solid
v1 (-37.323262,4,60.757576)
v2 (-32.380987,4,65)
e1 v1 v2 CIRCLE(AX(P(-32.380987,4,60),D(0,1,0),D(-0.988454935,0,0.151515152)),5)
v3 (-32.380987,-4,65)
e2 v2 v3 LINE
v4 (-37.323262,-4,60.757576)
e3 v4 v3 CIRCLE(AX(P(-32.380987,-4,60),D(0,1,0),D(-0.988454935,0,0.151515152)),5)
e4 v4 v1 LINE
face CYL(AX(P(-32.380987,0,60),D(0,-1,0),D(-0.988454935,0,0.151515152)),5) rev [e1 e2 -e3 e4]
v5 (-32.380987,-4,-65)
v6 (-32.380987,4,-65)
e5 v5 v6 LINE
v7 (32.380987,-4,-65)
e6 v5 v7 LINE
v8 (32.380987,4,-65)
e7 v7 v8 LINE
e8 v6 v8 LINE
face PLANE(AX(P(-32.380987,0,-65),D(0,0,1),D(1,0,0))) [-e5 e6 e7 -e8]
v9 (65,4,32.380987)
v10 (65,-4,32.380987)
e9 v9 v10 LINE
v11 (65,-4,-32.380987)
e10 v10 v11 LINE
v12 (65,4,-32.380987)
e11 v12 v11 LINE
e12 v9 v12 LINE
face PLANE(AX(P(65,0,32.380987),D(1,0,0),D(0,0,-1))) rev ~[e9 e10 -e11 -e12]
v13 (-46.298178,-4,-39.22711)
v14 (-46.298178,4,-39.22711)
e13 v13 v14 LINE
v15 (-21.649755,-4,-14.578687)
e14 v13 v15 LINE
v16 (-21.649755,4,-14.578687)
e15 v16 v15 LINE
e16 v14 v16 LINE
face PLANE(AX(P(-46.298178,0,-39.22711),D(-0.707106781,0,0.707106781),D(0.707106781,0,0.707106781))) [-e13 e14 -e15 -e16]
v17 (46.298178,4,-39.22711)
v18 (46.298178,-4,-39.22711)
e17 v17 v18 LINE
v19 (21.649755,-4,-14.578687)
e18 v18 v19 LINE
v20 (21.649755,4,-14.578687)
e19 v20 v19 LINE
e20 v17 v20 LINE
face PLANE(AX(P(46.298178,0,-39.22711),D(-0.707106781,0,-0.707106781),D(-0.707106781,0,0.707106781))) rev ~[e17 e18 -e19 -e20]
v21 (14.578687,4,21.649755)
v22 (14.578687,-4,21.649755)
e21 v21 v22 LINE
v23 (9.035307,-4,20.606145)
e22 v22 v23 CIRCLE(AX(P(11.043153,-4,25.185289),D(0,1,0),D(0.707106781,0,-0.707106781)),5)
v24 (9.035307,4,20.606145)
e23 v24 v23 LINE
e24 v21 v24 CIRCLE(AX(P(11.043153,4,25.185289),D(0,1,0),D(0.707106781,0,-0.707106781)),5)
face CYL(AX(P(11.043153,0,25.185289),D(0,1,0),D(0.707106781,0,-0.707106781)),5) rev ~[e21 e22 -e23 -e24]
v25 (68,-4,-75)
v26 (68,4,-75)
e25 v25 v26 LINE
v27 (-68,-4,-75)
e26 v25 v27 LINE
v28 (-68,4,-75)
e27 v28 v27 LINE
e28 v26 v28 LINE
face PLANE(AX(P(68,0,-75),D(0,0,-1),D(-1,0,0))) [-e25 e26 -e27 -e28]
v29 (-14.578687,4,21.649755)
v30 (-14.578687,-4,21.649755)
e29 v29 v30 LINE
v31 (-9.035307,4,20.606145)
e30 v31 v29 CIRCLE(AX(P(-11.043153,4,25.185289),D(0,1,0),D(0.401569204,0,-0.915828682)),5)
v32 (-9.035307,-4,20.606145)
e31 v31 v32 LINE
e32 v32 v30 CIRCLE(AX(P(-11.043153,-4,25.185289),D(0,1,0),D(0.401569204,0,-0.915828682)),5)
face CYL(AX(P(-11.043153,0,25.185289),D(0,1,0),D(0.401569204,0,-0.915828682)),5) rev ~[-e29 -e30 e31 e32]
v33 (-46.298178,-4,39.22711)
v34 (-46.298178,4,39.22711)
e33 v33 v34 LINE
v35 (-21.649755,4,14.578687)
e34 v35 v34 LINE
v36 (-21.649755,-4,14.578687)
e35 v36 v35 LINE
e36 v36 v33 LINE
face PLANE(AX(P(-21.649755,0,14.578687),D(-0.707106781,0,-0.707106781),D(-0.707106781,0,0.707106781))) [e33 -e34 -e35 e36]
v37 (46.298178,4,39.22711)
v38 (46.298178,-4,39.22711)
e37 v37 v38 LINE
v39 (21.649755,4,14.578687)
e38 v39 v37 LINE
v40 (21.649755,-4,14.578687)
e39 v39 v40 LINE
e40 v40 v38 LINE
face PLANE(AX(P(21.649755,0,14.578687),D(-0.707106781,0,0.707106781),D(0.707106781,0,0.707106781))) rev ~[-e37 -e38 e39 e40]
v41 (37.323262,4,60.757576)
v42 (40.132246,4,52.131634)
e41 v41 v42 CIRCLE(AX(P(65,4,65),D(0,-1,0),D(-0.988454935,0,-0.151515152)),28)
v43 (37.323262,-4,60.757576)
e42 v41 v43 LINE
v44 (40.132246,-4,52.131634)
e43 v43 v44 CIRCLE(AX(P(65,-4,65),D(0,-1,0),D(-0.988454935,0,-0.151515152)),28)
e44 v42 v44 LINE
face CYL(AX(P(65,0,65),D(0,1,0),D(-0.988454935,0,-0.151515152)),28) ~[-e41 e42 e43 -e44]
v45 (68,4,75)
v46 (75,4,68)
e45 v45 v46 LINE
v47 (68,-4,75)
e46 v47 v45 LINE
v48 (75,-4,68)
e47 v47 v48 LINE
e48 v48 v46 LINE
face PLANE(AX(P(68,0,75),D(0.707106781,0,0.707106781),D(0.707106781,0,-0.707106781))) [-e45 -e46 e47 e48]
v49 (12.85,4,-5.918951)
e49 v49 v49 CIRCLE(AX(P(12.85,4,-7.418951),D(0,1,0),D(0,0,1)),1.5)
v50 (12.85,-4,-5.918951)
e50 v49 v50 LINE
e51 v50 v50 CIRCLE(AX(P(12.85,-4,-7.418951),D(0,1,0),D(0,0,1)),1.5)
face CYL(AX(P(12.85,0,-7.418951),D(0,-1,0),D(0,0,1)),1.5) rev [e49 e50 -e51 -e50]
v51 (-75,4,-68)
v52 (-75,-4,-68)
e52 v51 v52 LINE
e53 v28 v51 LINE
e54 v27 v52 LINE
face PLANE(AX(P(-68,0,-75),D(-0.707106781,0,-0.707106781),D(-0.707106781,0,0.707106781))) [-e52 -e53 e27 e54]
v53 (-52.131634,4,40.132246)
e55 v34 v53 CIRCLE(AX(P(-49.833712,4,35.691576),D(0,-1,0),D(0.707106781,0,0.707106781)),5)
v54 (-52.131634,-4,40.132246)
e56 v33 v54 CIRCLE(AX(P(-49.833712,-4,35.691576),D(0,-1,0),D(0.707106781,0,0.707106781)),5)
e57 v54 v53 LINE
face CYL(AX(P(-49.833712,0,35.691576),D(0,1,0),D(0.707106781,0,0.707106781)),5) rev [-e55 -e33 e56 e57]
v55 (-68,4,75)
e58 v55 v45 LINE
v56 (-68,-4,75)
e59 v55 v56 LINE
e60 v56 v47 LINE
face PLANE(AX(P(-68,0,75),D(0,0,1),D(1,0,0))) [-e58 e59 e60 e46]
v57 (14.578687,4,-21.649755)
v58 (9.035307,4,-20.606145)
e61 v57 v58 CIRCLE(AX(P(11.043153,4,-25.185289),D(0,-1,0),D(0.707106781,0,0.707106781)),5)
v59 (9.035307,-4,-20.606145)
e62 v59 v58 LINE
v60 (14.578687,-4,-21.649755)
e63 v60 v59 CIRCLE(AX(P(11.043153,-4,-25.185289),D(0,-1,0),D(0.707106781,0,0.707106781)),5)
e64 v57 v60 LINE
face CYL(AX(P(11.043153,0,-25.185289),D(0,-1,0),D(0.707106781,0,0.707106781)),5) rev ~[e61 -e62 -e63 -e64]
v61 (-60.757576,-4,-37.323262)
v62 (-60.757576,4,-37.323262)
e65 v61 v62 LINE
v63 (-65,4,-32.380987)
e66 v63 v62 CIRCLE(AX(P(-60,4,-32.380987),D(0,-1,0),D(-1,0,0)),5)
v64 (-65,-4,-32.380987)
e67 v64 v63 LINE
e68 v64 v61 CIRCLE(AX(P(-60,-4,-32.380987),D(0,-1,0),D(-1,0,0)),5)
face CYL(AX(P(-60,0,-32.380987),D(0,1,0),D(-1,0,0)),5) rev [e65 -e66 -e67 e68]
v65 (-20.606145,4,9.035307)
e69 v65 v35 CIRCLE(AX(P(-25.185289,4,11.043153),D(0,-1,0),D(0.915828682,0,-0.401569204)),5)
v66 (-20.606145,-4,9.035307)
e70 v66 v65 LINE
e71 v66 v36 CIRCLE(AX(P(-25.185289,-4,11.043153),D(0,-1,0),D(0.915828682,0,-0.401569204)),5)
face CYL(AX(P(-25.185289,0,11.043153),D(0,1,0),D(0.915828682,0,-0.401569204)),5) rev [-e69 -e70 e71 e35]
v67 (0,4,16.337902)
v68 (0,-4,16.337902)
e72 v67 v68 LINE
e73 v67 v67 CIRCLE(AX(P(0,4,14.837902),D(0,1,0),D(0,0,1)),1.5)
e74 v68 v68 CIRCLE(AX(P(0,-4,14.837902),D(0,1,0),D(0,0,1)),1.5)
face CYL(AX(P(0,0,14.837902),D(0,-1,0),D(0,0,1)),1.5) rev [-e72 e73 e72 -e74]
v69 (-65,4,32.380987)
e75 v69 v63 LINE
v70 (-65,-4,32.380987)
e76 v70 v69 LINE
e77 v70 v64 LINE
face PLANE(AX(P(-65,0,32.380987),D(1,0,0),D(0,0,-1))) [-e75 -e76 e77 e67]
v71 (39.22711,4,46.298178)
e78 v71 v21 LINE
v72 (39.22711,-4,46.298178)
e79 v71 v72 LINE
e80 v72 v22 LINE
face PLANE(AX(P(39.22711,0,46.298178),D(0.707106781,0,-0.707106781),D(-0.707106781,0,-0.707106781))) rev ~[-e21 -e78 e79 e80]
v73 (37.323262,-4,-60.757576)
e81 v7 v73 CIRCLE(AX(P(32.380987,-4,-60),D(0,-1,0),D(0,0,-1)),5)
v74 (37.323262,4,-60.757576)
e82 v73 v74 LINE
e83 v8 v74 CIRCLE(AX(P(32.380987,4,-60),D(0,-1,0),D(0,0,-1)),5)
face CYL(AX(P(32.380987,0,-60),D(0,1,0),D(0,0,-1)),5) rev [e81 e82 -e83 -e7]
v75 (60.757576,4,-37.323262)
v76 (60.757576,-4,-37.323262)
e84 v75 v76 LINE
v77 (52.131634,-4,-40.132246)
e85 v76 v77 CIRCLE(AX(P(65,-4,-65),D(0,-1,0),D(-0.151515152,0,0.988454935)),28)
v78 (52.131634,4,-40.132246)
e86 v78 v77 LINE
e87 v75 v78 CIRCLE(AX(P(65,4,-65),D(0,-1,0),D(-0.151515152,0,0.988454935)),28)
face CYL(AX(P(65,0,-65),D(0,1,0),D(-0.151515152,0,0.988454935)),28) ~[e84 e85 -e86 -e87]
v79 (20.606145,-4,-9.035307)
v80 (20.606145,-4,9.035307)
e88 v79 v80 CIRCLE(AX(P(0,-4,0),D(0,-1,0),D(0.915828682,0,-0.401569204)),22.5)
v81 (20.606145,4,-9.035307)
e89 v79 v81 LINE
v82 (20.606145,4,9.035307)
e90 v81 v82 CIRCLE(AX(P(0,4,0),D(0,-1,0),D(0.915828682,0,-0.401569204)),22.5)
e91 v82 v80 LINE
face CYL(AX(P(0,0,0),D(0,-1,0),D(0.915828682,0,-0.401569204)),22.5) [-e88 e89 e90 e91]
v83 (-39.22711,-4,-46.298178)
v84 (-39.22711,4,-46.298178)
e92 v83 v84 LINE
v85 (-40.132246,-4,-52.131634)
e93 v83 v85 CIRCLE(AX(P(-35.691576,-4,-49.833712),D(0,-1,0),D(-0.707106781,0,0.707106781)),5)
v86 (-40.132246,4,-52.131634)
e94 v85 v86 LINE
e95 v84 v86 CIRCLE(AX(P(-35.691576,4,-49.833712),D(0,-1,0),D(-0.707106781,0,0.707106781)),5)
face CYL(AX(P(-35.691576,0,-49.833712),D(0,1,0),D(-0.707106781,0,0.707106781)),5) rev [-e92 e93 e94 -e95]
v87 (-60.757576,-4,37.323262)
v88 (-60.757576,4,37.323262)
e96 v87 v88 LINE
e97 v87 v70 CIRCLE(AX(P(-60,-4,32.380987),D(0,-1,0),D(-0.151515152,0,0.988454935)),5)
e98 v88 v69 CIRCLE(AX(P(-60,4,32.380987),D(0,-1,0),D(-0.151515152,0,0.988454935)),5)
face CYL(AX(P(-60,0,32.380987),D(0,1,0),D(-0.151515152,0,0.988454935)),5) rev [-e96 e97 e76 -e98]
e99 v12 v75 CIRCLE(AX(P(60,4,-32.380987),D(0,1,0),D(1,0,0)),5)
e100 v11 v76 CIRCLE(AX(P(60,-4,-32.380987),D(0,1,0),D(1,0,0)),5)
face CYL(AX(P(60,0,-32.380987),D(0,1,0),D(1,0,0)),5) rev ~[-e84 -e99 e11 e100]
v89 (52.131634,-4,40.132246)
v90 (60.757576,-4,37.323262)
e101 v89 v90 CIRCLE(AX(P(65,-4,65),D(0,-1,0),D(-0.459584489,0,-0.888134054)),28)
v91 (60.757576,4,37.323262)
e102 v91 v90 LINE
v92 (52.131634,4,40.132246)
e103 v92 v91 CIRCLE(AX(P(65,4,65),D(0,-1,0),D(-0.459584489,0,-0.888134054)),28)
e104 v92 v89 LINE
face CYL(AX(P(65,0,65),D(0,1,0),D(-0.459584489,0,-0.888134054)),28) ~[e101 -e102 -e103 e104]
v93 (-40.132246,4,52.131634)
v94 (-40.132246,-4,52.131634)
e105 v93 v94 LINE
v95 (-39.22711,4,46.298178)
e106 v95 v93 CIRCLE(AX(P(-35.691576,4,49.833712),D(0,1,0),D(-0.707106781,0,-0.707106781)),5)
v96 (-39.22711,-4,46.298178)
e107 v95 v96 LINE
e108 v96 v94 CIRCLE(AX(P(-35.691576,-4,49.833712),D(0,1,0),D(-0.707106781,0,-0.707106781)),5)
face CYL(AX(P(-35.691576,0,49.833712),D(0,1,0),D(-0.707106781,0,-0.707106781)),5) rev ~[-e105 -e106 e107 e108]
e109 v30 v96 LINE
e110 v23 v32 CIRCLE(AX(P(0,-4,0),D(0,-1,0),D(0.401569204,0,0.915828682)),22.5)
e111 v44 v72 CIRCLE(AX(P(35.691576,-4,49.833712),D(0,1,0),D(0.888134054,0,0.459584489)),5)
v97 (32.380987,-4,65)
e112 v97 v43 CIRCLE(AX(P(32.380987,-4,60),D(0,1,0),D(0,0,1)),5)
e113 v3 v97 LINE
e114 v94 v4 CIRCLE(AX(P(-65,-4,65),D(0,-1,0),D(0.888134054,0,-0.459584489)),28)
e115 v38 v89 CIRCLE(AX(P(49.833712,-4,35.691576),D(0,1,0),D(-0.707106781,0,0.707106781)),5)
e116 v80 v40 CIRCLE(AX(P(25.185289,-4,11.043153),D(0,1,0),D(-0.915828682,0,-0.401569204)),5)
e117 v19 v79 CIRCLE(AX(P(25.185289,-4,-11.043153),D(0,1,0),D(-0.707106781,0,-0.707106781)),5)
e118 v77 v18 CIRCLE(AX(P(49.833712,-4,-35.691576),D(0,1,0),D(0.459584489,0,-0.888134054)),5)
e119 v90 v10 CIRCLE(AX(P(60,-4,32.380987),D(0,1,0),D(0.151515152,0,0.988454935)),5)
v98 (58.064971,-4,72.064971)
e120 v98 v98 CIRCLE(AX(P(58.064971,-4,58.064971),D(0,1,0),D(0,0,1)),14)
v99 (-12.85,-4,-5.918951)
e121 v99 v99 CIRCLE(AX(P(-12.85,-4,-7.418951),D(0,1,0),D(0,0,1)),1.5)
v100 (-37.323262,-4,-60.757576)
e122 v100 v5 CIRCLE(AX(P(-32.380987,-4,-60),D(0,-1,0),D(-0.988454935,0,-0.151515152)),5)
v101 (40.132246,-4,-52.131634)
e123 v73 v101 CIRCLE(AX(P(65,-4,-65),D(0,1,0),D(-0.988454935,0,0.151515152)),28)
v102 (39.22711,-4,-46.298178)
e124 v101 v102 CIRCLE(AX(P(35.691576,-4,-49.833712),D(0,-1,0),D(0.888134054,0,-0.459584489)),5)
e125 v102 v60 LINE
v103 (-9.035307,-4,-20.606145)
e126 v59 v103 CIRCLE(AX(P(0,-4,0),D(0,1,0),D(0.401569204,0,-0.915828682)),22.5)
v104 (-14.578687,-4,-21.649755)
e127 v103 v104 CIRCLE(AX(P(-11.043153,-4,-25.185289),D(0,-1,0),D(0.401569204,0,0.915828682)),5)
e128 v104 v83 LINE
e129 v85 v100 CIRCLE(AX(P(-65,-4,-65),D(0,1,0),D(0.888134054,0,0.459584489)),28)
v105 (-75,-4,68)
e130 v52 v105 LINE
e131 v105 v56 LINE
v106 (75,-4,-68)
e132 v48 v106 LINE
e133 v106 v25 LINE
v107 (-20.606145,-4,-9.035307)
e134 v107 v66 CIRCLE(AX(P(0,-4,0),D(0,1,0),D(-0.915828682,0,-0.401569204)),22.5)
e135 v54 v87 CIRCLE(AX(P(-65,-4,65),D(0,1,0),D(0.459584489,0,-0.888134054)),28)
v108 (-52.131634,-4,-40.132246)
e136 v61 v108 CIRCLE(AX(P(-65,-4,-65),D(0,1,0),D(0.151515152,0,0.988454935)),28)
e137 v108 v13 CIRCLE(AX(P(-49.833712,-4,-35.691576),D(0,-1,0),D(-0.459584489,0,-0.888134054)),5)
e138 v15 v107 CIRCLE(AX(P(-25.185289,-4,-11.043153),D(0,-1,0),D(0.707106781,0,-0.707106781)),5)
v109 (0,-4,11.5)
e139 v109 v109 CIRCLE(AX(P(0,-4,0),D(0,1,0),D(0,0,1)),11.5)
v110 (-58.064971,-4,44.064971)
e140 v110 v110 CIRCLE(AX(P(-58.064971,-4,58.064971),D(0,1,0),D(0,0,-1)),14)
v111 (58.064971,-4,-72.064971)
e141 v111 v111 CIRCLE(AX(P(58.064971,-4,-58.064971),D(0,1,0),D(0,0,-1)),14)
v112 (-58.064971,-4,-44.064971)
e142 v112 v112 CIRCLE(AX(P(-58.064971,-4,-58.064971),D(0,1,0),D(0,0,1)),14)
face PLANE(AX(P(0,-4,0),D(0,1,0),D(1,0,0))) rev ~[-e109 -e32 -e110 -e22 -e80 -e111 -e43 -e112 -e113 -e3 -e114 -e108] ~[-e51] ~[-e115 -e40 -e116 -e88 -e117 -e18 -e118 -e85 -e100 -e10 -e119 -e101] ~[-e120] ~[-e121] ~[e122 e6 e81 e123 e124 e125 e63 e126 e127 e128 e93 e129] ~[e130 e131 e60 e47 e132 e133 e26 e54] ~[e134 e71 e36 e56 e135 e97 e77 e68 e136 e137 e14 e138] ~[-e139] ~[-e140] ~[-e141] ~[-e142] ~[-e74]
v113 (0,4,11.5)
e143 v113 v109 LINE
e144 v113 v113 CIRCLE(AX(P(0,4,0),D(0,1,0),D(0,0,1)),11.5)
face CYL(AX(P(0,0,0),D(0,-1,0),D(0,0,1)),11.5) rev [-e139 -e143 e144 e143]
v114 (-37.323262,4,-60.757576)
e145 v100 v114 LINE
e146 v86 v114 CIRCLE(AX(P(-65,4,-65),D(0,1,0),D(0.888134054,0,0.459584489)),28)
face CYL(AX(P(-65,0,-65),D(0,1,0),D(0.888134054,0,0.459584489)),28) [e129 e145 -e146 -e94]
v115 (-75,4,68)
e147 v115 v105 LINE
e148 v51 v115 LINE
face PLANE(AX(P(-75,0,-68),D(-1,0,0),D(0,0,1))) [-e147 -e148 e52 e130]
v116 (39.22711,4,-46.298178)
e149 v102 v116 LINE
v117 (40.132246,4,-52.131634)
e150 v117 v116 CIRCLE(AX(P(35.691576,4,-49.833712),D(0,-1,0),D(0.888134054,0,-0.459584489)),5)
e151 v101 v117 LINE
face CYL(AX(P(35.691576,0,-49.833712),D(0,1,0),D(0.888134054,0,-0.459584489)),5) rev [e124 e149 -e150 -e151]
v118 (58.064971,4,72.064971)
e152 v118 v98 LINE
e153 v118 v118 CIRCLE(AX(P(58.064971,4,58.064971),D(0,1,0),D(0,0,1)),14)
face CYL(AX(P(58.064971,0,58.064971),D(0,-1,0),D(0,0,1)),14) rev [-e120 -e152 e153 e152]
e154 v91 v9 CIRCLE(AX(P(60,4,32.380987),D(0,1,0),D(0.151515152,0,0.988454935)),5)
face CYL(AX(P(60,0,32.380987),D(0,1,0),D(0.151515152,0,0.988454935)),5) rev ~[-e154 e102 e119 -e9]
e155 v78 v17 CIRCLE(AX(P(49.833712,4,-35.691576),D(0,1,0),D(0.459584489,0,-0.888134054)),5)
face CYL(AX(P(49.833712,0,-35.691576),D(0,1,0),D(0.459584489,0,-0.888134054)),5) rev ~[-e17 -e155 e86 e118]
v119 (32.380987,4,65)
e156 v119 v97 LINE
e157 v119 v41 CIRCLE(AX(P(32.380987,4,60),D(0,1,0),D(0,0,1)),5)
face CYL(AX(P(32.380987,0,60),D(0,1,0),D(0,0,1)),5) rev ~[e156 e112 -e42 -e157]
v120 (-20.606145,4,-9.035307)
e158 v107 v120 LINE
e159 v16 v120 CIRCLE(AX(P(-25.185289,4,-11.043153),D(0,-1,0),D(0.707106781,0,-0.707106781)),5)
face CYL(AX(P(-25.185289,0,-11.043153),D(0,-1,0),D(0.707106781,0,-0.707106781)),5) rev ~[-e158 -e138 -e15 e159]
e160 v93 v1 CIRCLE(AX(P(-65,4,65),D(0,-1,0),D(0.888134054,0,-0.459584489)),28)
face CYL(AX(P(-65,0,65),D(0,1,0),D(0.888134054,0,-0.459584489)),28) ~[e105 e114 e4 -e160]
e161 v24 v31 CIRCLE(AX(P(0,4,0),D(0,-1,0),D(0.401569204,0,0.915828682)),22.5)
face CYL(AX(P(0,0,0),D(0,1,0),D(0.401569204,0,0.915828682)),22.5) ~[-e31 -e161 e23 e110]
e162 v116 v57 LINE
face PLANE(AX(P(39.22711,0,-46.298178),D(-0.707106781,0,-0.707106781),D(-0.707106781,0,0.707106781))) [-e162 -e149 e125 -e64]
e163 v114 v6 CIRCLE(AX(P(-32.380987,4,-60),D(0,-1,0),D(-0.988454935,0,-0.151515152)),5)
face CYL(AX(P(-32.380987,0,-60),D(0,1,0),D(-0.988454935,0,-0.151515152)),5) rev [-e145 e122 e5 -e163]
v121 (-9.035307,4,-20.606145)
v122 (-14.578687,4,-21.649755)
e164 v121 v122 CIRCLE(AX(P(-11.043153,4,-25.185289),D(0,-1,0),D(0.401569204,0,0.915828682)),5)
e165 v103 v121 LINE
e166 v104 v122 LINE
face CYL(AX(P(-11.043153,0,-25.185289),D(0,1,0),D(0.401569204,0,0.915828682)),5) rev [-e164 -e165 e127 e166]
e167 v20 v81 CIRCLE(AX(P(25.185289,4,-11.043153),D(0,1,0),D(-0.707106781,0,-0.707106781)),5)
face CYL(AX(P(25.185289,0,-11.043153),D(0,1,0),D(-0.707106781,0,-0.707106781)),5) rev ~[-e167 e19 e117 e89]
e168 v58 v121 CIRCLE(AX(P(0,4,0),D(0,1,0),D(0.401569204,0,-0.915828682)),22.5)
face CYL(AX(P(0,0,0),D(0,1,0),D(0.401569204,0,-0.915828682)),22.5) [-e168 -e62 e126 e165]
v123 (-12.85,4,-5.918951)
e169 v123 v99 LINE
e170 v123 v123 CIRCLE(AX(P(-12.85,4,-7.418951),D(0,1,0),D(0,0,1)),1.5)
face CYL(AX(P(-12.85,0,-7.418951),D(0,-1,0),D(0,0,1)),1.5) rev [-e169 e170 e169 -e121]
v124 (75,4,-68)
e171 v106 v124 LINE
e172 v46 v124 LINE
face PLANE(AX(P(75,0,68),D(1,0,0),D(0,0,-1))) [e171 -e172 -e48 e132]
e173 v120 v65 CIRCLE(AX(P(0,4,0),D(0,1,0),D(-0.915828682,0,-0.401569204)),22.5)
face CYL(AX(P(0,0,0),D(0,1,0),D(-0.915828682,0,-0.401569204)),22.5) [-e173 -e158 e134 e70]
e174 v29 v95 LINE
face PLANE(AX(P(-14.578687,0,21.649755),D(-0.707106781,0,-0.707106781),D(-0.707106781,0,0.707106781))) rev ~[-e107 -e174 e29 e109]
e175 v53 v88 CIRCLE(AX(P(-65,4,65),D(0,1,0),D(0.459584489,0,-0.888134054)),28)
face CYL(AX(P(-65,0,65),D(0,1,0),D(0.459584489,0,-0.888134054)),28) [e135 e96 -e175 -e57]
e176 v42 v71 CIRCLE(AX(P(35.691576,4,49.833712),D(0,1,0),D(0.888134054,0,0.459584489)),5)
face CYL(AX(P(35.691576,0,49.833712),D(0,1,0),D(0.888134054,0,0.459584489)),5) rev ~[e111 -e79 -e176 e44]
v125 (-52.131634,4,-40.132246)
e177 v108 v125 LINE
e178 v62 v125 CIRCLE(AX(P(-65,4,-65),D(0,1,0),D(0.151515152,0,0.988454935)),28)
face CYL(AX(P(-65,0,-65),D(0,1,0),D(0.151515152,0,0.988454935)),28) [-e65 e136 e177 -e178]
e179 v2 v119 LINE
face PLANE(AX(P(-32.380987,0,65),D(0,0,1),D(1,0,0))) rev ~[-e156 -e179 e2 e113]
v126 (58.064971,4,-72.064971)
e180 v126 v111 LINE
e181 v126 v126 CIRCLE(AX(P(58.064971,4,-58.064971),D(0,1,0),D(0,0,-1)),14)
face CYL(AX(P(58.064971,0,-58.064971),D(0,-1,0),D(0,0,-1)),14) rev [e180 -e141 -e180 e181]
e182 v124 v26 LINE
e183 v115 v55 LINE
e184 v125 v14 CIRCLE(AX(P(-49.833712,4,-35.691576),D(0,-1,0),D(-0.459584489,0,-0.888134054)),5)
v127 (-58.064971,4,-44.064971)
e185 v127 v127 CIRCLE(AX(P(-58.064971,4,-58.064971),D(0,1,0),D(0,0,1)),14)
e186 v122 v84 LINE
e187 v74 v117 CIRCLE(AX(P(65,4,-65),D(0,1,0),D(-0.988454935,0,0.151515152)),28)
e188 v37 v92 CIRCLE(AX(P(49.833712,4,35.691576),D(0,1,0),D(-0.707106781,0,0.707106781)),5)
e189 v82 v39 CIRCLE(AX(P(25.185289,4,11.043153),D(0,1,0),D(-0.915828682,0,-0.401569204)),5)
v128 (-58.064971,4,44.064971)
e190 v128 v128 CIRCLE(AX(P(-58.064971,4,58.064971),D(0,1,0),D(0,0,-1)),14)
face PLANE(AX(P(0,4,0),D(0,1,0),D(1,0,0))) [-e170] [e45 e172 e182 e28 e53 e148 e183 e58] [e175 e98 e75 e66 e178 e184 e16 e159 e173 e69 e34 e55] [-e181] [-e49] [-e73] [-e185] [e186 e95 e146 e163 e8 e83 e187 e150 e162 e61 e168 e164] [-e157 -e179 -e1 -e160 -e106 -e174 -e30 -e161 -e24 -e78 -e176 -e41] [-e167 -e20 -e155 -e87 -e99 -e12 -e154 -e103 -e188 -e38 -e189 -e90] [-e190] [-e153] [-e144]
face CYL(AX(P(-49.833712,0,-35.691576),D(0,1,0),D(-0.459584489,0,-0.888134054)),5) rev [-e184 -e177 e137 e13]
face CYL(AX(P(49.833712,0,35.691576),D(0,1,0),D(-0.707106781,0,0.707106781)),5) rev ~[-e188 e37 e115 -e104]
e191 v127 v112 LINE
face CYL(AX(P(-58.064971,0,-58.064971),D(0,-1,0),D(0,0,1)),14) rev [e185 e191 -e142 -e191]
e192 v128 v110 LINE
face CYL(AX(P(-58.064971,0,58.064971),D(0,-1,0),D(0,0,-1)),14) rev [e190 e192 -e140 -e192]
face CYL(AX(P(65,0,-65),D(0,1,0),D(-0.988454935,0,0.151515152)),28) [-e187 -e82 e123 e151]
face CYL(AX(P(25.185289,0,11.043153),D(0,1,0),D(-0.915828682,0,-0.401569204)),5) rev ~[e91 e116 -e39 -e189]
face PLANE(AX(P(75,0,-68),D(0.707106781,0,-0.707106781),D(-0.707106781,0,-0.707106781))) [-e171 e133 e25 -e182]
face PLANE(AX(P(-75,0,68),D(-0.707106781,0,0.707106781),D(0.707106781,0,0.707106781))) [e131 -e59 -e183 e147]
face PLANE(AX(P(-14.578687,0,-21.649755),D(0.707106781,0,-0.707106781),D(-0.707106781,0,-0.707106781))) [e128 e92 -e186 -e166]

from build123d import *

# Parameters (mm, degrees)
SKETCH1_R           = 11.5
SKETCH1_R_2         = 14
SKETCH1_R_3         = 1.5
BOSS_EXTRUDE1_DEPTH = 4


with BuildPart() as part:
    # Sketch1 → Boss-Extrude1 (new, symmetric)
    with BuildSketch(Plane(origin=(0, 0, 0), x_dir=(1, 0, 0), z_dir=(0, 1, 0))):
        Polygon((-68, -75), (68, -75), (75, -68), (75, 68), (68, 75), (-68, 75), (-75, 68), (-75, -68), align=None)
        with Locations(Location((0, 0, 0), (0, 0, 270))):
            Circle(SKETCH1_R, mode=Mode.SUBTRACT)
        with Locations(Location((-58.064971157, 58.064971157, 0), (0, 0, 270))):
            Circle(SKETCH1_R_2, mode=Mode.SUBTRACT)
        with Locations(Location((58.064971157, 58.064971157, 0), (0, 0, 90))):
            Circle(SKETCH1_R_2, mode=Mode.SUBTRACT)
        with Locations(Location((58.064971157, -58.064971157, 0), (0, 0, 270))):
            Circle(SKETCH1_R_2, mode=Mode.SUBTRACT)
        with Locations(Location((-58.064971157, -58.064971157, 0), (0, 0, 90))):
            Circle(SKETCH1_R_2, mode=Mode.SUBTRACT)
        with Locations(Location((-12.85, 7.418950959, 0), (0, 0, 270))):
            Circle(SKETCH1_R_3, mode=Mode.SUBTRACT)
        with Locations(Location((12.85, 7.418950959, 0), (0, 0, 270))):
            Circle(SKETCH1_R_3, mode=Mode.SUBTRACT)
        with Locations(Location((0, -14.837901918, 0), (0, 0, 270))):
            Circle(SKETCH1_R_3, mode=Mode.SUBTRACT)
        with BuildLine():
            Line((-65, -32.380987139), (-65, 32.380987139))
            ThreePointArc((-65, 32.380987139), (-63.793934553, 35.637681876), (-60.757575758, 37.323261815))
            ThreePointArc((-60.757575758, 37.323261815), (-56.330087552, 38.376089353), (-52.1316343, 40.132246498))
            ThreePointArc((-52.1316343, 40.132246498), (-49.06707081, 40.632452823), (-46.298177948, 39.227110136))
            Line((-46.298177948, 39.227110136), (-21.649754839, 14.578687027))
            ThreePointArc((-21.649754839, 14.578687027), (-20.271607616, 11.968214073), (-20.606145336, 9.035307099))
            ThreePointArc((-20.606145336, 9.035307099), (-22.5, 0), (-20.606145336, -9.035307099))
            ThreePointArc((-20.606145336, -9.035307099), (-20.271607616, -11.968214073), (-21.649754839, -14.578687027))
            Line((-21.649754839, -14.578687027), (-46.298177948, -39.227110136))
            ThreePointArc((-46.298177948, -39.227110136), (-49.06707081, -40.632452823), (-52.1316343, -40.132246498))
            ThreePointArc((-52.1316343, -40.132246498), (-56.330087552, -38.376089353), (-60.757575758, -37.323261815))
            ThreePointArc((-60.757575758, -37.323261815), (-63.793934553, -35.637681876), (-65, -32.380987139))
        make_face(mode=Mode.SUBTRACT)
        with BuildLine():
            Line((-32.380987139, 65), (32.380987139, 65))
            ThreePointArc((32.380987139, 65), (35.637681876, 63.793934553), (37.323261815, 60.757575758))
            ThreePointArc((37.323261815, 60.757575758), (38.376089353, 56.330087552), (40.132246498, 52.1316343))
            ThreePointArc((40.132246498, 52.1316343), (40.632452823, 49.06707081), (39.227110136, 46.298177948))
            Line((39.227110136, 46.298177948), (14.578687027, 21.649754839))
            ThreePointArc((14.578687027, 21.649754839), (11.968214073, 20.271607616), (9.035307099, 20.606145336))
            ThreePointArc((9.035307099, 20.606145336), (0, 22.5), (-9.035307099, 20.606145336))
            ThreePointArc((-9.035307099, 20.606145336), (-11.968214073, 20.271607616), (-14.578687027, 21.649754839))
            Line((-14.578687027, 21.649754839), (-39.227110136, 46.298177948))
            ThreePointArc((-39.227110136, 46.298177948), (-40.632452823, 49.06707081), (-40.132246498, 52.1316343))
            ThreePointArc((-40.132246498, 52.1316343), (-38.376089353, 56.330087552), (-37.323261815, 60.757575758))
            ThreePointArc((-37.323261815, 60.757575758), (-35.637681876, 63.793934553), (-32.380987139, 65))
        make_face(mode=Mode.SUBTRACT)
        with BuildLine():
            Line((65, -32.380987139), (65, 32.380987139))
            ThreePointArc((65, 32.380987139), (63.793934553, 35.637681876), (60.757575758, 37.323261815))
            ThreePointArc((60.757575758, 37.323261815), (56.330087552, 38.376089353), (52.1316343, 40.132246498))
            ThreePointArc((52.1316343, 40.132246498), (49.06707081, 40.632452823), (46.298177948, 39.227110136))
            Line((46.298177948, 39.227110136), (21.649754839, 14.578687027))
            ThreePointArc((21.649754839, 14.578687027), (20.271607616, 11.968214073), (20.606145336, 9.035307099))
            ThreePointArc((20.606145336, 9.035307099), (22.5, 0), (20.606145336, -9.035307099))
            ThreePointArc((20.606145336, -9.035307099), (20.271607616, -11.968214073), (21.649754839, -14.578687027))
            Line((21.649754839, -14.578687027), (46.298177948, -39.227110136))
            ThreePointArc((46.298177948, -39.227110136), (49.06707081, -40.632452823), (52.1316343, -40.132246498))
            ThreePointArc((52.1316343, -40.132246498), (56.330087552, -38.376089353), (60.757575758, -37.323261815))
            ThreePointArc((60.757575758, -37.323261815), (63.793934553, -35.637681876), (65, -32.380987139))
        make_face(mode=Mode.SUBTRACT)
        with BuildLine():
            Line((-32.380987139, -65), (32.380987139, -65))
            ThreePointArc((32.380987139, -65), (35.637681876, -63.793934553), (37.323261815, -60.757575758))
            ThreePointArc((37.323261815, -60.757575758), (38.376089353, -56.330087552), (40.132246498, -52.1316343))
            ThreePointArc((40.132246498, -52.1316343), (40.632452823, -49.06707081), (39.227110136, -46.298177948))
            Line((39.227110136, -46.298177948), (14.578687027, -21.649754839))
            ThreePointArc((14.578687027, -21.649754839), (11.968214073, -20.271607616), (9.035307099, -20.606145336))
            ThreePointArc((9.035307099, -20.606145336), (0, -22.5), (-9.035307099, -20.606145336))
            ThreePointArc((-9.035307099, -20.606145336), (-11.968214073, -20.271607616), (-14.578687027, -21.649754839))
            Line((-14.578687027, -21.649754839), (-39.227110136, -46.298177948))
            ThreePointArc((-39.227110136, -46.298177948), (-40.632452823, -49.06707081), (-40.132246498, -52.1316343))
            ThreePointArc((-40.132246498, -52.1316343), (-38.376089353, -56.330087552), (-37.323261815, -60.757575758))
            ThreePointArc((-37.323261815, -60.757575758), (-35.637681876, -63.793934553), (-32.380987139, -65))
        make_face(mode=Mode.SUBTRACT)
    extrude(amount=BOSS_EXTRUDE1_DEPTH, both=True)


solid = part.part
